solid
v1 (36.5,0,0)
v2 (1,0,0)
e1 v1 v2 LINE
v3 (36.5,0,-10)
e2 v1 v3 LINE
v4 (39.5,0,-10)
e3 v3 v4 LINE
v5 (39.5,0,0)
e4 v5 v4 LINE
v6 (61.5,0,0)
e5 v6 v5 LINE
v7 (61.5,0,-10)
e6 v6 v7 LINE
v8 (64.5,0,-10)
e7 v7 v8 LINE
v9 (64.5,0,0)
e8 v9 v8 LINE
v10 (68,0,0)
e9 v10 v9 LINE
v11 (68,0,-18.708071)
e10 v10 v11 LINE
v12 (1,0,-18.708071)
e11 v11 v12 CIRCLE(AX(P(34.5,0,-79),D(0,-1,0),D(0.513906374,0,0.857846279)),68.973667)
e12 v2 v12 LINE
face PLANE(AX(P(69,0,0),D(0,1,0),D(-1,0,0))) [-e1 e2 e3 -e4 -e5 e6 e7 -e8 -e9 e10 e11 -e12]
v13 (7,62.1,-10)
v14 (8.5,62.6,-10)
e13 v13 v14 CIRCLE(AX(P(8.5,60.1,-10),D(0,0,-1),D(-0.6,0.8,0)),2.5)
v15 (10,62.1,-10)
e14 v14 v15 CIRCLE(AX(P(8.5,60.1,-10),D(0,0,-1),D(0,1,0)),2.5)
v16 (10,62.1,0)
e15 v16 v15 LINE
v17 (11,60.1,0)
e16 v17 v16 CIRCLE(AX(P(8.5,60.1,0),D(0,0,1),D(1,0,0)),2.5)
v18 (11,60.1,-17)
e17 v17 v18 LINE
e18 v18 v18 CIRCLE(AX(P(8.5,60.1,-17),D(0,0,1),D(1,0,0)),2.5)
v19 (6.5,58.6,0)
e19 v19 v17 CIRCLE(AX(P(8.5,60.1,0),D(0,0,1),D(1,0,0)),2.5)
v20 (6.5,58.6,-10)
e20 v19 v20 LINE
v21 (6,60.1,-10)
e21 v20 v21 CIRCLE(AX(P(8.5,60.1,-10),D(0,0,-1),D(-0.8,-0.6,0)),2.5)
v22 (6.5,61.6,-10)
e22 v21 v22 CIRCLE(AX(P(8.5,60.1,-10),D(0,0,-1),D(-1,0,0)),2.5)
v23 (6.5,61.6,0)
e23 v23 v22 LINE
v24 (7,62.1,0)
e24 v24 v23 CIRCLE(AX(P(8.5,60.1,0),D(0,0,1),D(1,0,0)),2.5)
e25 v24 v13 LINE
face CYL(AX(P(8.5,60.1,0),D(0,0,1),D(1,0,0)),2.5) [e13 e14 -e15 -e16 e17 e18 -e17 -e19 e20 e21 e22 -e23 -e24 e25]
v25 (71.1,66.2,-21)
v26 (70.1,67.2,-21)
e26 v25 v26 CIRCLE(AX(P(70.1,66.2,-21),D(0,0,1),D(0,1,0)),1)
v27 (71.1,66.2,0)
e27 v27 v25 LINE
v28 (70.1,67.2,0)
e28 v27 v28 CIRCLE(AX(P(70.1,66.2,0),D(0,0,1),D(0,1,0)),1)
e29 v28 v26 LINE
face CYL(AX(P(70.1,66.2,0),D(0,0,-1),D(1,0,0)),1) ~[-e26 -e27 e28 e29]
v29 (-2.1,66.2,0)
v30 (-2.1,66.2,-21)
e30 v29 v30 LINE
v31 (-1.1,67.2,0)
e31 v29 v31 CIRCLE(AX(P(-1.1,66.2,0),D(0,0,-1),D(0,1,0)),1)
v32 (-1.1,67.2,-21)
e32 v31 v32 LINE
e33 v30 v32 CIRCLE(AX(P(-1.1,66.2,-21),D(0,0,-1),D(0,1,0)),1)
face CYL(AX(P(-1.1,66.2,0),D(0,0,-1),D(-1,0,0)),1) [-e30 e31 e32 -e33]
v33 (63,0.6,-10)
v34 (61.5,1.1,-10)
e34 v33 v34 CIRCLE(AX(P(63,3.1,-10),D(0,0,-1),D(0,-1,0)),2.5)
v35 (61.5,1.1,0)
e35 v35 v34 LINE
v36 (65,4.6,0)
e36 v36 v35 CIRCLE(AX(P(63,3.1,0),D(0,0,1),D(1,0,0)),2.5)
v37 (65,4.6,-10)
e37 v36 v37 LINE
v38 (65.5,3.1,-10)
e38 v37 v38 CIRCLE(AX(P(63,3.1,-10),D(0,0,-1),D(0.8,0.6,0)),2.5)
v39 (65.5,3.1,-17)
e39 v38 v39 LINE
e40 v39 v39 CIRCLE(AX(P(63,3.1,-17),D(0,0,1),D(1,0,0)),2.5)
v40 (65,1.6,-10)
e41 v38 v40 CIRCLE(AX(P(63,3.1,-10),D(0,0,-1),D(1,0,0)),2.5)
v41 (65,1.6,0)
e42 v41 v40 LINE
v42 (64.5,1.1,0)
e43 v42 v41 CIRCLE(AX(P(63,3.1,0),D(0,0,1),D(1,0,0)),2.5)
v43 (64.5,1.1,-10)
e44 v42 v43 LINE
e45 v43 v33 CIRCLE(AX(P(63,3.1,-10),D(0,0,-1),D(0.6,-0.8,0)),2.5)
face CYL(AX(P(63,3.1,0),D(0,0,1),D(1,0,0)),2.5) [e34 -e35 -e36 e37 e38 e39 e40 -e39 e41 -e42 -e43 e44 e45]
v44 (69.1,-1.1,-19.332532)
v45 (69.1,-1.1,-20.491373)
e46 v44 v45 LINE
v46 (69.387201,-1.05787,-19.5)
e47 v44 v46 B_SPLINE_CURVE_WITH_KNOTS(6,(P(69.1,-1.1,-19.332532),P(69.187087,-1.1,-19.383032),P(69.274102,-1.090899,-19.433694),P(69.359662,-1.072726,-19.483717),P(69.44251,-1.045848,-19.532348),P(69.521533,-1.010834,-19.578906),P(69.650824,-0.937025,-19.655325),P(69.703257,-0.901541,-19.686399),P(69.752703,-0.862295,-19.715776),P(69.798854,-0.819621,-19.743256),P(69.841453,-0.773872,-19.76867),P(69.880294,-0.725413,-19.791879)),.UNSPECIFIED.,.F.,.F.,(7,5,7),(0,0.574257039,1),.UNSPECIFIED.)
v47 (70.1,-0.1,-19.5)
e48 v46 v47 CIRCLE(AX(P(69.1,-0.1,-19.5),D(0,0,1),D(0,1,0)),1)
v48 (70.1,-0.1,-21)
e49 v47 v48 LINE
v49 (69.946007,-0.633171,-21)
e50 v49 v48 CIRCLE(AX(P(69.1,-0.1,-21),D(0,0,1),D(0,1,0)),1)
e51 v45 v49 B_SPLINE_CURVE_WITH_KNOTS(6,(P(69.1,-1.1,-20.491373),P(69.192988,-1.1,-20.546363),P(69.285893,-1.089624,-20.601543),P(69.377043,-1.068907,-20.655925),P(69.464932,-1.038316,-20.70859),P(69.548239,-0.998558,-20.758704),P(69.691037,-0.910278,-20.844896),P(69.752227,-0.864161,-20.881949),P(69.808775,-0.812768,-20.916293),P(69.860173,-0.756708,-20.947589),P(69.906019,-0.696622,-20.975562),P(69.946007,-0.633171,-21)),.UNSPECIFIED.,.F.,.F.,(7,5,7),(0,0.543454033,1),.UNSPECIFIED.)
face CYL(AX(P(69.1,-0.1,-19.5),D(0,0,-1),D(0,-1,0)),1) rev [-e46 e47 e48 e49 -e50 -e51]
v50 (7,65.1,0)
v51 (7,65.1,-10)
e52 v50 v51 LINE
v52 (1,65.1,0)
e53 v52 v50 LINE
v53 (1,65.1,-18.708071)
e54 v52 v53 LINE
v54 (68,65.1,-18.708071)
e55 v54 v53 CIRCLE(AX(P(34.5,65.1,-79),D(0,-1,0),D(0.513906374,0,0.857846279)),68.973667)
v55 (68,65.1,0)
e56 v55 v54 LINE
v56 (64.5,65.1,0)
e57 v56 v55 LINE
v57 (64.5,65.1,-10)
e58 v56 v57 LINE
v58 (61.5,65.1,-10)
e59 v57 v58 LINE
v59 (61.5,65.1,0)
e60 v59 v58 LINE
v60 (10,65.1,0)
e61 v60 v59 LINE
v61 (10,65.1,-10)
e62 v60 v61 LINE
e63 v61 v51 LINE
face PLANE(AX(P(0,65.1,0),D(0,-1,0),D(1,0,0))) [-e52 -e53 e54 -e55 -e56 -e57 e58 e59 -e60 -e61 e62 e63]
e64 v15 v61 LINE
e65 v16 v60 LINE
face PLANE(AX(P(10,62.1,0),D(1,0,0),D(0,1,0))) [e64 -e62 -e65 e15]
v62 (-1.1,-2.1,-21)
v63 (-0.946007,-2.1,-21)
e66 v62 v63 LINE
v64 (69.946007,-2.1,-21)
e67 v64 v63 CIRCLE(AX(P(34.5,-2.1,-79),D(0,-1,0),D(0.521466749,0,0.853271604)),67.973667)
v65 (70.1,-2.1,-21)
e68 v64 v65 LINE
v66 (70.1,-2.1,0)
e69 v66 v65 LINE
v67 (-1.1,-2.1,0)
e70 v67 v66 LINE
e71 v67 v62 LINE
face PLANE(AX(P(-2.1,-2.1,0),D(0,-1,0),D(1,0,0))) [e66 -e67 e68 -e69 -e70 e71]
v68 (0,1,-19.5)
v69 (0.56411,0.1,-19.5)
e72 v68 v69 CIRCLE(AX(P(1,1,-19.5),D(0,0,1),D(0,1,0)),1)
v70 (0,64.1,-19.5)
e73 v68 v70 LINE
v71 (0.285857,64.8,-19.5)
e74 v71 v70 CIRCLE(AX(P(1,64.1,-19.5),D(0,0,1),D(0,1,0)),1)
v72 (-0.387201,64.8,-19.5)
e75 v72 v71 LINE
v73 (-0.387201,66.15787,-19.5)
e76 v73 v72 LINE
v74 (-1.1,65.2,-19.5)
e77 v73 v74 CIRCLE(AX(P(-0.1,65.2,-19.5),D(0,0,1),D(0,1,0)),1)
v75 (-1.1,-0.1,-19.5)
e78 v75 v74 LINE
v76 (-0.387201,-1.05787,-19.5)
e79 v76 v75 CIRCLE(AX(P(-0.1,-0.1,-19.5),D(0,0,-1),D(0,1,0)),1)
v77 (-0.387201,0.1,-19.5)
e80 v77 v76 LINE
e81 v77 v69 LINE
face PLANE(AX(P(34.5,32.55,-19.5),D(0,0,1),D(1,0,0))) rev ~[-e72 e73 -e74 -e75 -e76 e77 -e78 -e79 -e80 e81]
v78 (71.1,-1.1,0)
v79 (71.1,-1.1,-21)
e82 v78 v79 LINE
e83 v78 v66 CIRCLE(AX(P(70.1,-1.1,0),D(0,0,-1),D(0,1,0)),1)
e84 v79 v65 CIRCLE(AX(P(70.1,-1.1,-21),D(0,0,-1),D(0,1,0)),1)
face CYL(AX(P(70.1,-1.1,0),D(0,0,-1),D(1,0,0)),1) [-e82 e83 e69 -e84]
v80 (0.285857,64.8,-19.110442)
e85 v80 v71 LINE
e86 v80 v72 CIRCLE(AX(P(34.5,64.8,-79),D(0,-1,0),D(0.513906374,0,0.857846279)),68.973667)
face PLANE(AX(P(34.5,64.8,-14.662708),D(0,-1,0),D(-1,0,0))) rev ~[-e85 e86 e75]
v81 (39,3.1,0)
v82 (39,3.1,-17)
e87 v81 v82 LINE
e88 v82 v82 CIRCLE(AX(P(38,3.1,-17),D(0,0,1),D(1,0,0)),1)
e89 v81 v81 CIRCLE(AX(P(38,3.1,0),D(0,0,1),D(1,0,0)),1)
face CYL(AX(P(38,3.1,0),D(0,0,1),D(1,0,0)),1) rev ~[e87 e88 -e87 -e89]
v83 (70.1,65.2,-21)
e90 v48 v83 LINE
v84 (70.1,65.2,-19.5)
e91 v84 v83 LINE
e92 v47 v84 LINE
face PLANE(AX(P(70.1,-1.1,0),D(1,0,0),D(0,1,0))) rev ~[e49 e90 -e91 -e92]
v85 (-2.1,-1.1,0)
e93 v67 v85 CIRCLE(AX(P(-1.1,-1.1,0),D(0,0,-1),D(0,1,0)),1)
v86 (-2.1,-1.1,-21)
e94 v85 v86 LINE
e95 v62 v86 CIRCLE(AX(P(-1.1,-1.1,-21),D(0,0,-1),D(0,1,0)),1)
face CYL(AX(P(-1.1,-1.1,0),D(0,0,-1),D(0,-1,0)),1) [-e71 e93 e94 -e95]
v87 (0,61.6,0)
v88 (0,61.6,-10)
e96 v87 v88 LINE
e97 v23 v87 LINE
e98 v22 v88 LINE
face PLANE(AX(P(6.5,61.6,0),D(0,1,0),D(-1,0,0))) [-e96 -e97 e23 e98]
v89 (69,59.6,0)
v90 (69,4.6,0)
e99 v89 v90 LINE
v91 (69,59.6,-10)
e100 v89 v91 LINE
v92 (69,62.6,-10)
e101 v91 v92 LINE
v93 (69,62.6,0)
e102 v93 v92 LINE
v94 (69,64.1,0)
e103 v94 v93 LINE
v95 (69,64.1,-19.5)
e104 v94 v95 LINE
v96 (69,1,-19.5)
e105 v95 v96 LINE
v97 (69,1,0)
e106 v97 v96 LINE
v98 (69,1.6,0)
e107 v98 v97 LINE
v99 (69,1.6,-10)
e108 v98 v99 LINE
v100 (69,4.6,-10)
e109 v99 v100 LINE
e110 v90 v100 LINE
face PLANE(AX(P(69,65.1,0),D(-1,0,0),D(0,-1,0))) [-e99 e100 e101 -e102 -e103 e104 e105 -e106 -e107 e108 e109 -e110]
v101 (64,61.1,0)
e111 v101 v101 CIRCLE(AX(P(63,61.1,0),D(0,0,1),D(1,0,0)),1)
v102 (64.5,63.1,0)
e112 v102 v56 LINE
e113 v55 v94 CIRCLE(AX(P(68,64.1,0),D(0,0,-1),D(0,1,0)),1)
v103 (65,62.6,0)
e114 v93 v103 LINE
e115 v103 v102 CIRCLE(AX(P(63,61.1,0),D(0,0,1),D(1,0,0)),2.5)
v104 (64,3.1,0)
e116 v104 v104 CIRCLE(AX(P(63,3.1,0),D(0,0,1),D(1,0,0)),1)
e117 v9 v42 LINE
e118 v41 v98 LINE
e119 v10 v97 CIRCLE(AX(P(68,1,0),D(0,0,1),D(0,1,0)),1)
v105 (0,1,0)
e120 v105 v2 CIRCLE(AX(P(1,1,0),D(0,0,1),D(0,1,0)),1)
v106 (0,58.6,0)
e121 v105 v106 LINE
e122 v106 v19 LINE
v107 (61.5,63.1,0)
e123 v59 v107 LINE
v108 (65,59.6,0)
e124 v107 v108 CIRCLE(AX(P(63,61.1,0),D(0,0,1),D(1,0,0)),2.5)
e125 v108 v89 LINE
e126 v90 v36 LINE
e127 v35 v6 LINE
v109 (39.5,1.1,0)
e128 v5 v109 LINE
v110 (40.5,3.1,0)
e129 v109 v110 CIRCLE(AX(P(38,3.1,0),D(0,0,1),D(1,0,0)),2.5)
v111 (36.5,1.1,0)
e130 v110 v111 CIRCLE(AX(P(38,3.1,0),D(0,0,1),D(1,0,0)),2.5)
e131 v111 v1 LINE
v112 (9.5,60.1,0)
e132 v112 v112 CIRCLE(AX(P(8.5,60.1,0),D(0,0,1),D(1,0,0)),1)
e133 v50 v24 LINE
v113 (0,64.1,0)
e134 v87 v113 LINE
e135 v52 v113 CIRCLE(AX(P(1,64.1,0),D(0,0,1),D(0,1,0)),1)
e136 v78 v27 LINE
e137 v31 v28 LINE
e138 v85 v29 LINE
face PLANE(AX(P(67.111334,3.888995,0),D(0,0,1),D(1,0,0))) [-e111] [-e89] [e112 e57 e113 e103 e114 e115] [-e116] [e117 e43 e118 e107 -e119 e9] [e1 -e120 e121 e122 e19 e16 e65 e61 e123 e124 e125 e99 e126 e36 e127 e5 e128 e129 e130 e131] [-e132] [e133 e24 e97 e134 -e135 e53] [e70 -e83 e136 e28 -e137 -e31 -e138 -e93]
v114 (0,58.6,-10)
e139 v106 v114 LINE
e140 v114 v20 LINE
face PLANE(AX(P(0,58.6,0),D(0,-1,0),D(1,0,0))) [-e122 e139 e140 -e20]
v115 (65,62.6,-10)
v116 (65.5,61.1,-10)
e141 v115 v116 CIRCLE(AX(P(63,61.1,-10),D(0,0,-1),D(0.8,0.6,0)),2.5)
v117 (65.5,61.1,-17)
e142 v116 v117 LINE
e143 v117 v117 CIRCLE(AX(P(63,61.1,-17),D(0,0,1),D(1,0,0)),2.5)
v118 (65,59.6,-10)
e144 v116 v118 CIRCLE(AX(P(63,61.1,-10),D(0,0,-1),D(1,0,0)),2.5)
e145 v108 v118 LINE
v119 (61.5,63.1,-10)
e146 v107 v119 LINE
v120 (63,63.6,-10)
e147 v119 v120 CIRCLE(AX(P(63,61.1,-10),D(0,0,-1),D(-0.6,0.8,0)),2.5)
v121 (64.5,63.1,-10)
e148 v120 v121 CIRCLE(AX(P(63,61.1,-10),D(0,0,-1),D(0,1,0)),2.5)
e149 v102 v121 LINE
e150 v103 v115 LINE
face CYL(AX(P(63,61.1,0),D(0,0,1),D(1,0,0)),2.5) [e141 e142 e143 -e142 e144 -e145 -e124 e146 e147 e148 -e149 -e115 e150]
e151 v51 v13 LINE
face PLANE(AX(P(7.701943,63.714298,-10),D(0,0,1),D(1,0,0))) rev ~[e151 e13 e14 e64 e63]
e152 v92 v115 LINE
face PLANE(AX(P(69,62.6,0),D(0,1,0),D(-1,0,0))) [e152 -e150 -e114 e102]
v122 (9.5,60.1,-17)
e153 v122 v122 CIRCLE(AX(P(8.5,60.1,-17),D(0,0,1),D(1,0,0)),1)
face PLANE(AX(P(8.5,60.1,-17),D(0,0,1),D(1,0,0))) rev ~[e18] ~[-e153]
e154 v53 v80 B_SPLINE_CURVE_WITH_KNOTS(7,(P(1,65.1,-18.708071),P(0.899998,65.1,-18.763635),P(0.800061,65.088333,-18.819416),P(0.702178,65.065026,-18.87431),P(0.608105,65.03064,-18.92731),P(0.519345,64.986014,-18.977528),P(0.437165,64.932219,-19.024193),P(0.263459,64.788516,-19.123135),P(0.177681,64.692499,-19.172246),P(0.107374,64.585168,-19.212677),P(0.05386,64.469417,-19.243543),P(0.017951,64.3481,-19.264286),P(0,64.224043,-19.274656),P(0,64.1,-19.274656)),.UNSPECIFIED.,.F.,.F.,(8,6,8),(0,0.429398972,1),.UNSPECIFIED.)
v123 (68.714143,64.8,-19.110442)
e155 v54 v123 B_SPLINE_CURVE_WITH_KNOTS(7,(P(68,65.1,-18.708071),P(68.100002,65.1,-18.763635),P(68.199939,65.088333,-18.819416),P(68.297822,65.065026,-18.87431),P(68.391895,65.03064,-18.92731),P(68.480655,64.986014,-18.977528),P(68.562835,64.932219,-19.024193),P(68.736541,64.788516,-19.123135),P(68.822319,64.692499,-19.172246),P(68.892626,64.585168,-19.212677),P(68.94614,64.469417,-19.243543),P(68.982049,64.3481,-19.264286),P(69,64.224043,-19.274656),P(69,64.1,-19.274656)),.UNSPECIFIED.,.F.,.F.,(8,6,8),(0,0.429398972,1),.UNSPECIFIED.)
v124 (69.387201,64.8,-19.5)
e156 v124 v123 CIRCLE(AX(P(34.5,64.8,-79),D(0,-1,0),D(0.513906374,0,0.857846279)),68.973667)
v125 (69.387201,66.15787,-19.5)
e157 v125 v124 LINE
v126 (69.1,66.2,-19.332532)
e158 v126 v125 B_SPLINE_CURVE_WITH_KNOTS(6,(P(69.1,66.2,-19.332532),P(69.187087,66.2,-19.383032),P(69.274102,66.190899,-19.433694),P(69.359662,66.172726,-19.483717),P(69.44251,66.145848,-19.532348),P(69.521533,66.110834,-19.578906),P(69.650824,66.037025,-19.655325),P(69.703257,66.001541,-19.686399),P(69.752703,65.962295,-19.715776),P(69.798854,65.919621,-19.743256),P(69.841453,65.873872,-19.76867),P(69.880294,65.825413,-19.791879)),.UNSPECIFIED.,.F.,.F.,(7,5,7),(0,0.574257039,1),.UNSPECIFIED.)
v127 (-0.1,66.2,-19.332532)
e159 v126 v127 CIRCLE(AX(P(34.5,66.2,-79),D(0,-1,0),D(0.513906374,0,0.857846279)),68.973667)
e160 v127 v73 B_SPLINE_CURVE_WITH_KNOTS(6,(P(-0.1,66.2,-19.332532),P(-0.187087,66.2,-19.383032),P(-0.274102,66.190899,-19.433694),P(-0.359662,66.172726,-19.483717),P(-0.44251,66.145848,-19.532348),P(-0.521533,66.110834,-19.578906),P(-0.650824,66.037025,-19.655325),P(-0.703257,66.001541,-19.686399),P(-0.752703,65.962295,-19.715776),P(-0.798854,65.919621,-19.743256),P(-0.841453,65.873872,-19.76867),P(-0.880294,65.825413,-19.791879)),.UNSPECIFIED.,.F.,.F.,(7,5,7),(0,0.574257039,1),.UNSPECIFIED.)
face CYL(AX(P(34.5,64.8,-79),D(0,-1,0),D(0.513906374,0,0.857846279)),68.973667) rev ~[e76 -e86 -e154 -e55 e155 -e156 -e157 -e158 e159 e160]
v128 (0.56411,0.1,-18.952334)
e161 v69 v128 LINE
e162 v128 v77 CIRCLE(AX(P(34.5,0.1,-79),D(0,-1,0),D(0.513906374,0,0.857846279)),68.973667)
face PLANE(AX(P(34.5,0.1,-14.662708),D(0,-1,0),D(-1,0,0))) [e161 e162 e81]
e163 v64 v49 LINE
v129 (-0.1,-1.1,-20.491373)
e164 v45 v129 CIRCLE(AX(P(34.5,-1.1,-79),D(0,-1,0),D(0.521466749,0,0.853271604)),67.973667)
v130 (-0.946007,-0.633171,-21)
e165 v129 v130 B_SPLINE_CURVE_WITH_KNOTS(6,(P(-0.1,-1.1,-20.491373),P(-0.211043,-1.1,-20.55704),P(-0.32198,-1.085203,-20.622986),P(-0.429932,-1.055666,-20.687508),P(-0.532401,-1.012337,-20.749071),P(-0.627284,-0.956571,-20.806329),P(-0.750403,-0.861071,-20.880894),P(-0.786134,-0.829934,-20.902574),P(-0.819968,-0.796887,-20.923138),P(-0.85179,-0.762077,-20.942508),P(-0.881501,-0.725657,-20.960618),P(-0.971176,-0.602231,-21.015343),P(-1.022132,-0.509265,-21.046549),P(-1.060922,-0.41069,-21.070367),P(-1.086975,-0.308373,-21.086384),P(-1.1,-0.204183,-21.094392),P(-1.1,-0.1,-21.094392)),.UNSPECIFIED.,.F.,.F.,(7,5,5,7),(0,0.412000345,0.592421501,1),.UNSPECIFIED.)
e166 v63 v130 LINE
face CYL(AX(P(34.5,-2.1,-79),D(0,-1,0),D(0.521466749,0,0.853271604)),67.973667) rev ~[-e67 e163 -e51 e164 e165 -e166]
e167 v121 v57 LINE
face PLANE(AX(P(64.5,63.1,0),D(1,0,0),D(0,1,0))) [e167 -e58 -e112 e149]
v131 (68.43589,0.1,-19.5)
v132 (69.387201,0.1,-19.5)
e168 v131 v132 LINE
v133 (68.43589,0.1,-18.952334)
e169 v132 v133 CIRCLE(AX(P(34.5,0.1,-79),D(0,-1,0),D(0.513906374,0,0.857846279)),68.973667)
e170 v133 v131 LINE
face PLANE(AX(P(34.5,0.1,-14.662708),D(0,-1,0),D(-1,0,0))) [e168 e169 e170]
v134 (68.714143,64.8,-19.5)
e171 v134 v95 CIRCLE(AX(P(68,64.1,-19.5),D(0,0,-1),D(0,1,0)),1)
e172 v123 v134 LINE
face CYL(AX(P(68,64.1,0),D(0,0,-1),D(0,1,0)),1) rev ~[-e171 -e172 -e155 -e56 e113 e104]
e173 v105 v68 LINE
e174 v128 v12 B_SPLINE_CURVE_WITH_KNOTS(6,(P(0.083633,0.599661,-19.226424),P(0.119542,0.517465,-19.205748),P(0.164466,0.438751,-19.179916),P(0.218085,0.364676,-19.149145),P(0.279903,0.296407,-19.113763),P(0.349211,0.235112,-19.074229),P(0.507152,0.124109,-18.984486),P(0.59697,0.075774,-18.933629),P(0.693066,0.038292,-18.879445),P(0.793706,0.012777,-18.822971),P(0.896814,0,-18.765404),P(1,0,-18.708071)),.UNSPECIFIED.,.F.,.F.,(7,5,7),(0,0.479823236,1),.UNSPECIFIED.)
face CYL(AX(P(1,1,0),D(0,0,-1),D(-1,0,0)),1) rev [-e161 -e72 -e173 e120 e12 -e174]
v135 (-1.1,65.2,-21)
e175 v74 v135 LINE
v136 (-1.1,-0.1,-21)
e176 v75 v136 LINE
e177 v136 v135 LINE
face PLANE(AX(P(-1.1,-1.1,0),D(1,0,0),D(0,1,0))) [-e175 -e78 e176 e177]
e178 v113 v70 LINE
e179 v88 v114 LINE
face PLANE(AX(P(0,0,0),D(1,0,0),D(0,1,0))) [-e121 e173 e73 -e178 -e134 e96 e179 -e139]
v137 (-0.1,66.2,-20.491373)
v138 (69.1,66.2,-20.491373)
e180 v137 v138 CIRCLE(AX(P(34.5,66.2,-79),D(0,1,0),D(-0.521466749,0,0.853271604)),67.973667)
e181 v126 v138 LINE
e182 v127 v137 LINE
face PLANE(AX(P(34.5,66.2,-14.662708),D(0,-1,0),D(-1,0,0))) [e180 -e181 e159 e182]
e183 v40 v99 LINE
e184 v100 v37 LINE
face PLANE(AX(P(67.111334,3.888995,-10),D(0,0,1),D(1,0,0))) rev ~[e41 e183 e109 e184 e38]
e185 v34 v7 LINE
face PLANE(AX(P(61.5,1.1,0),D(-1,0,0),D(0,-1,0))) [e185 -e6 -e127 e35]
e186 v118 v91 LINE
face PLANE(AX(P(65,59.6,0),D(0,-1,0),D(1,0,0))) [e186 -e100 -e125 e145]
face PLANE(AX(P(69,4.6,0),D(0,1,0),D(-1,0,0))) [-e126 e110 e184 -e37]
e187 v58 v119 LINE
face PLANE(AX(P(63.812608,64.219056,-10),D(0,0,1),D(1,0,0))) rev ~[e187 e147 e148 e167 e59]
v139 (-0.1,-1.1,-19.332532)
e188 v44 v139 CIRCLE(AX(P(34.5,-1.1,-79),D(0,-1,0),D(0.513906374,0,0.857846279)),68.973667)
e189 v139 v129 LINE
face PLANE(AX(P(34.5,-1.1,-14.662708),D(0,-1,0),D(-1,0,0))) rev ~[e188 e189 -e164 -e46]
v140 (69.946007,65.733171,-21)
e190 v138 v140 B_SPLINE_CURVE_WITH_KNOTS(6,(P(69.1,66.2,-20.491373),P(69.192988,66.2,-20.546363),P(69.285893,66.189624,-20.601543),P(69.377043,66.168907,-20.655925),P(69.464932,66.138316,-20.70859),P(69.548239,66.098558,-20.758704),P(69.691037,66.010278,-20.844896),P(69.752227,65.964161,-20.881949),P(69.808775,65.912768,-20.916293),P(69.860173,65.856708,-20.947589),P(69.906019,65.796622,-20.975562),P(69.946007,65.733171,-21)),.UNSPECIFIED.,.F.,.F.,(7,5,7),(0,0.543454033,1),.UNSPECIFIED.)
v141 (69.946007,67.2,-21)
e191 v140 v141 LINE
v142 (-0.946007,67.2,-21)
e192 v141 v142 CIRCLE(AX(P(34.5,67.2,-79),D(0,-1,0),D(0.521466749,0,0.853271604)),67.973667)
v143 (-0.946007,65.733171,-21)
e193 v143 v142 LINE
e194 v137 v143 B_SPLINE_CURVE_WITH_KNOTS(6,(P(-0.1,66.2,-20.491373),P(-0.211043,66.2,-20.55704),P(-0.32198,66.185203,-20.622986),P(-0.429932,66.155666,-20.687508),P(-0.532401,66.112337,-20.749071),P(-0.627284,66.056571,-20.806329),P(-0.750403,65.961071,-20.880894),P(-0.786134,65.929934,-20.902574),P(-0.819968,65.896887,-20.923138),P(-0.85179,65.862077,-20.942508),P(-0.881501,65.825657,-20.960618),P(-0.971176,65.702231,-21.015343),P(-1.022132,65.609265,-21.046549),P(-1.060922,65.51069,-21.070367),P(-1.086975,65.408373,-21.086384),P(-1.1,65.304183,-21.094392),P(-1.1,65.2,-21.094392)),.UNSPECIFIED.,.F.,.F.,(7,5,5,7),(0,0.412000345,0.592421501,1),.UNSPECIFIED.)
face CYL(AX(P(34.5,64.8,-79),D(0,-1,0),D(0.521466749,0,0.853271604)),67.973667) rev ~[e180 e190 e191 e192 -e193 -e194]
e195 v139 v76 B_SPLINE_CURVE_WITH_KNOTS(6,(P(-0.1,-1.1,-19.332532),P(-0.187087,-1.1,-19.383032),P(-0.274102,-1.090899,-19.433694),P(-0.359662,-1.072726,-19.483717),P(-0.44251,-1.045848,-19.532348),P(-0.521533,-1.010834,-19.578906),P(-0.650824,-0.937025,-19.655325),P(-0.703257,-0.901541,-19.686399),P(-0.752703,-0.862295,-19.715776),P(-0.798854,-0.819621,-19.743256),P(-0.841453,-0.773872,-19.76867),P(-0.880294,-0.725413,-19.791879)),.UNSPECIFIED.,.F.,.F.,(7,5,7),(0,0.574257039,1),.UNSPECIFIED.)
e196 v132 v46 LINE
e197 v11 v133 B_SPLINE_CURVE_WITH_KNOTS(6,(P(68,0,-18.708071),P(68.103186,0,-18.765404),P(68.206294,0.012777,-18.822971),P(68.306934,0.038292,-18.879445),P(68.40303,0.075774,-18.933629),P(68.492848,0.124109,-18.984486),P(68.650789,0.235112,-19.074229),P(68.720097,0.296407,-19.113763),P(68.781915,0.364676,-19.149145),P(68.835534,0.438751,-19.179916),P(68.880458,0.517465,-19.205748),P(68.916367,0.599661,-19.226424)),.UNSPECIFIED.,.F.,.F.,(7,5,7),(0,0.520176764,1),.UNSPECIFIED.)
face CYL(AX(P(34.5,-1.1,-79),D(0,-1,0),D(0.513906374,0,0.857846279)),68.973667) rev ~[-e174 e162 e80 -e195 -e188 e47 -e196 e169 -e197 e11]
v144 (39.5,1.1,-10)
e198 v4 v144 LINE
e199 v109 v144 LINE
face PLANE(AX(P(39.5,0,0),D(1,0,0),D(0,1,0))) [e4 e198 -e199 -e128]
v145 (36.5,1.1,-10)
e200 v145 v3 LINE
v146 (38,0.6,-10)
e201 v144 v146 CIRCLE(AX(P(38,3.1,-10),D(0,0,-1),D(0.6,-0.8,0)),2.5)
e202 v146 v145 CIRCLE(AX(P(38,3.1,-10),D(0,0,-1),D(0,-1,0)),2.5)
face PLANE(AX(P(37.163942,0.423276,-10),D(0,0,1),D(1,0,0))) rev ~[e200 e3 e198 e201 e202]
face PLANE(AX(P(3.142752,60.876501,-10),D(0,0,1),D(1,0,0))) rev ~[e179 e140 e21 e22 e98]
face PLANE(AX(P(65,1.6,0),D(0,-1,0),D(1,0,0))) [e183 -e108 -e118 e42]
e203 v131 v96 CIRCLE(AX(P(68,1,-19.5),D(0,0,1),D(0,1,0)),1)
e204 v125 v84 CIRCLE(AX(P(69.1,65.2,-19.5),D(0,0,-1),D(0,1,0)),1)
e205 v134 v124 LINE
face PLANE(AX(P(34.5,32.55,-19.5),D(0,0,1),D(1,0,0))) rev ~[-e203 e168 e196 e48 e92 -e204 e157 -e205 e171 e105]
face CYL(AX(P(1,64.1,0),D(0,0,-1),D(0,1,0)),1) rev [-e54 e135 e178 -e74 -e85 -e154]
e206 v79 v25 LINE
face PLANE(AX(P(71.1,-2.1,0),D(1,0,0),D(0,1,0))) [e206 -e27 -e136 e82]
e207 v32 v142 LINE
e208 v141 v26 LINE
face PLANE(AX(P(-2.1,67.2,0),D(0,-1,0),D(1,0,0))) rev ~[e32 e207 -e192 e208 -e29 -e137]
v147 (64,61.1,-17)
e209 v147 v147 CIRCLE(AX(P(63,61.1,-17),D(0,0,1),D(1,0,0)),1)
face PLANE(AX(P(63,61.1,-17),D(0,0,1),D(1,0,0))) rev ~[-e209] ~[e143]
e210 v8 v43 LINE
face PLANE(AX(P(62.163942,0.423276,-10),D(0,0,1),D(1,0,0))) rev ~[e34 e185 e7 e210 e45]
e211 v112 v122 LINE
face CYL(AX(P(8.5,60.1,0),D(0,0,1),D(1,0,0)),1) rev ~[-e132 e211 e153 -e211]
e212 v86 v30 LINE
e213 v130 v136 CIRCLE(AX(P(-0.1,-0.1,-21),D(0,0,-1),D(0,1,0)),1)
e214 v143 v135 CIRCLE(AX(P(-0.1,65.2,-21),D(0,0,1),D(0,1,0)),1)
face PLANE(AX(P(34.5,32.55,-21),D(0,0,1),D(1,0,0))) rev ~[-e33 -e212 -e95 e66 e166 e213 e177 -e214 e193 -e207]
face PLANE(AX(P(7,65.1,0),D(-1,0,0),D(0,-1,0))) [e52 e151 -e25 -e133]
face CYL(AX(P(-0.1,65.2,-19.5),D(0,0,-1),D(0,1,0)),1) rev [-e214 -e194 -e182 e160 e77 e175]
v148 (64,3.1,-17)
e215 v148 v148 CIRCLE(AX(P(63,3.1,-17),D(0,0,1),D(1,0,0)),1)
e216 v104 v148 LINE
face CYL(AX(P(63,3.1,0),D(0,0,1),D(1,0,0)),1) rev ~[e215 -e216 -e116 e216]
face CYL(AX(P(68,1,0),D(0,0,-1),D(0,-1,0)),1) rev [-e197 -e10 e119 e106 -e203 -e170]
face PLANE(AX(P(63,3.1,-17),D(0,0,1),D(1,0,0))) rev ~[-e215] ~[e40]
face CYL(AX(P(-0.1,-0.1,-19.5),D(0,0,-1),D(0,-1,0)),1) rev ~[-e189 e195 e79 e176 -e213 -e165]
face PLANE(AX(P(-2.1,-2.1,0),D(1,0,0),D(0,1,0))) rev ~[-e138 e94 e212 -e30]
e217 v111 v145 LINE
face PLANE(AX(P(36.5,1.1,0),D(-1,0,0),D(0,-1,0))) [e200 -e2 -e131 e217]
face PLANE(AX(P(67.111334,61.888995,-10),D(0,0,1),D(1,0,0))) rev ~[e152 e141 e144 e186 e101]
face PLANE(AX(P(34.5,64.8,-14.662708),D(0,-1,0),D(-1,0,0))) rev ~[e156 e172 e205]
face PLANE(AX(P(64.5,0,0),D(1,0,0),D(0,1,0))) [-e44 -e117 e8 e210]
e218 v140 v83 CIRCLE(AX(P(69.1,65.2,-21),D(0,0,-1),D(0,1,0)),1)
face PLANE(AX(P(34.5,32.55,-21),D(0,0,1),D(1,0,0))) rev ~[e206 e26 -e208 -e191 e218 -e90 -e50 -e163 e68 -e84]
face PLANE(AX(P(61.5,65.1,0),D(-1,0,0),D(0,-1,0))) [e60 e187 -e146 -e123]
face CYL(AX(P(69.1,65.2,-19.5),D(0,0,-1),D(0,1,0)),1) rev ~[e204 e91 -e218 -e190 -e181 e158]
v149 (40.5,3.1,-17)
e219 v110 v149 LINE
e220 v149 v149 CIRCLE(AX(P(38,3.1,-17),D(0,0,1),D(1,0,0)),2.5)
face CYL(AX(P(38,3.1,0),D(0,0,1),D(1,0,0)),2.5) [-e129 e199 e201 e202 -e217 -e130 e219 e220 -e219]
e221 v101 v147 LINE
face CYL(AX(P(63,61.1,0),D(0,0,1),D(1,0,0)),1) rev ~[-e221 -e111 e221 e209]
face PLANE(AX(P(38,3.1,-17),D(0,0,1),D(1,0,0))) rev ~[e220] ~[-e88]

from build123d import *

# Parameters (mm, degrees)
SKIZZE1_R                         = 2.5
SKIZZE1_R_2                       = 1
AUFSATZ_LINEAR_AUSTRAGEN1_DEPTH   = 17
AUFSATZ_LINEAR_AUSTRAGEN1_2_DEPTH = 17
AUFSATZ_LINEAR_AUSTRAGEN1_3_DEPTH = 17
AUFSATZ_LINEAR_AUSTRAGEN1_4_DEPTH = 17
SKIZZE1_3_W                       = 73.2
SKIZZE1_3_H                       = 69.3
SKIZZE1_3_W_2                     = 71.2
SKIZZE1_3_H_2                     = 67.3
AUFSATZ_LINEAR_AUSTRAGEN2_DEPTH   = 21
SKIZZE1_4_W                       = 71.2
SKIZZE1_4_H                       = 67.3
AUFSATZ_LINEAR_AUSTRAGEN3_DEPTH   = 19.5
SCHNITT_LINEAR_AUSTRAGEN1_DEPTH   = 2.1
SCHNITT_LINEAR_START              = -1
SCHNITT_LINEAR_AUSTRAGEN4_DEPTH   = 1.2
SCHNITT_LINEAR_START_2            = -66.9
SCHNITT_LINEAR_AUSTRAGEN6_DEPTH   = 1.4
AUFSATZ_LINEAR_AUSTRAGEN4_DEPTH   = 10
SCHNITT_LINEAR_AUSTRAGEN7_DEPTH   = 10
VERRUNDUNG1_R                     = 1
VERRUNDUNG2_R                     = 1


with BuildPart() as part:
    # Skizze1 → Aufsatz-Linear austragen1 (new body)
    with BuildSketch(Plane.XY):
        with Locations((38, 3.1)):
            Circle(SKIZZE1_R)
        with Locations((38, 3.1)):
            Circle(SKIZZE1_R_2, mode=Mode.SUBTRACT)
    extrude(amount=-AUFSATZ_LINEAR_AUSTRAGEN1_DEPTH)



with BuildPart() as body_2:
    # Skizze1 → Aufsatz-Linear austragen1 2 (new body)
    with BuildSketch(Plane.XY):
        with Locations((8.5, 60.1)):
            Circle(SKIZZE1_R)
        with Locations((8.5, 60.1)):
            Circle(SKIZZE1_R_2, mode=Mode.SUBTRACT)
    extrude(amount=-AUFSATZ_LINEAR_AUSTRAGEN1_2_DEPTH)


with BuildPart() as body_3:
    # Skizze1 → Aufsatz-Linear austragen1 3 (new body)
    with BuildSketch(Plane.XY):
        with Locations((63, 3.1)):
            Circle(SKIZZE1_R)
        with Locations((63, 3.1)):
            Circle(SKIZZE1_R_2, mode=Mode.SUBTRACT)
    extrude(amount=-AUFSATZ_LINEAR_AUSTRAGEN1_3_DEPTH)


with BuildPart() as body_4:
    # Skizze1 → Aufsatz-Linear austragen1 4 (new body)
    with BuildSketch(Plane.XY):
        with Locations((63, 61.1)):
            Circle(SKIZZE1_R)
        with Locations((63, 61.1)):
            Circle(SKIZZE1_R_2, mode=Mode.SUBTRACT)
    extrude(amount=-AUFSATZ_LINEAR_AUSTRAGEN1_4_DEPTH)


with BuildPart() as body_5:
    # Skizze1<3> → Aufsatz-Linear austragen2 (new body)
    with BuildSketch(Plane.XY):
        with Locations((34.5, 32.55)):
            Rectangle(SKIZZE1_3_W, SKIZZE1_3_H)
        with Locations((34.5, 32.55)):
            Rectangle(SKIZZE1_3_W_2, SKIZZE1_3_H_2, mode=Mode.SUBTRACT)
    extrude(amount=-AUFSATZ_LINEAR_AUSTRAGEN2_DEPTH)

    # Skizze1<4> → Aufsatz-Linear austragen3 (add)
    with BuildSketch(Plane.XY):
        with Locations((34.5, 32.55)):
            Rectangle(SKIZZE1_4_W, SKIZZE1_4_H)
        Polygon((36.5, 0), (0, 0), (0, 58.6), (0, 60.1), (0, 61.6), (0, 65.1), (7, 65.1), (8.5, 65.1), (10, 65.1), (61.5, 65.1), (63, 65.1), (64.5, 65.1), (69, 65.1), (69, 62.6), (69, 61.1), (69, 59.6), (69, 4.6), (69, 3.1), (69, 1.6), (69, 0), (64.5, 0), (63, 0), (61.5, 0), (39.5, 0), (38, 0), align=None, mode=Mode.SUBTRACT)
    extrude(amount=-AUFSATZ_LINEAR_AUSTRAGEN3_DEPTH)

    # Skizze2 → Schnitt-Linear austragen1 (cut)
    with BuildSketch(Plane(origin=(0, -2.1, 0), x_dir=(-1, 0, 0), z_dir=(0, -1, 0))):
        with BuildLine():
            ThreePointArc((-69.94600721, 21), (-34.5, 11.026332841), (0.94600721, 21))
            Line((0.94600721, 21), (-69.94600721, 21))
        make_face()
    extrude(amount=-SCHNITT_LINEAR_AUSTRAGEN1_DEPTH, mode=Mode.SUBTRACT)

    # Skizze2<6> → Schnitt-Linear austragen4 (cut)
    with BuildSketch(Plane(origin=(0, -2.1, 0), x_dir=(-1, 0, 0), z_dir=(0, -1, 0)).offset(SCHNITT_LINEAR_START)):
        with BuildLine():
            Line((0.94600721, 19.831196274), (0.94600721, 21))
            ThreePointArc((0.94600721, 21), (-34.5, 11.026332841), (-69.94600721, 21))
            Line((-69.94600721, 21), (-69.94600721, 19.831196274))
            ThreePointArc((-69.94600721, 19.831196274), (-34.5, 10.026332841), (0.94600721, 19.831196274))
        make_face()
    extrude(amount=-SCHNITT_LINEAR_AUSTRAGEN4_DEPTH, mode=Mode.SUBTRACT)

    # Skizze2<14> → Schnitt-Linear austragen6 (cut)
    with BuildSketch(Plane(origin=(0, -2.1, 0), x_dir=(-1, 0, 0), z_dir=(0, -1, 0)).offset(SCHNITT_LINEAR_START_2)):
        with BuildLine():
            Line((0.94600721, 19.831196274), (0.94600721, 21))
            ThreePointArc((0.94600721, 21), (-34.5, 11.026332841), (-69.94600721, 21))
            Line((-69.94600721, 21), (-69.94600721, 19.831196274))
            ThreePointArc((-69.94600721, 19.831196274), (-34.5, 10.026332841), (0.94600721, 19.831196274))
        make_face()
    extrude(amount=-SCHNITT_LINEAR_AUSTRAGEN6_DEPTH, mode=Mode.SUBTRACT)


with BuildPart() as part_1:
    add(part.part)

    add(body_2.part)  # Aufsatz-Linear austragen4 merges body 2

    add(body_3.part)  # Aufsatz-Linear austragen4 merges body 3

    add(body_4.part)  # Aufsatz-Linear austragen4 merges body 4

    add(body_5.part)  # Aufsatz-Linear austragen4 merges body 5
    # Skizze1<5> → Aufsatz-Linear austragen4 (add)
    with BuildSketch(Plane.XY):
        with BuildLine():
            Line((36.5, 1.1), (36.5, 0))
            Line((36.5, 0), (39.5, 0))
            Line((39.5, 0), (39.5, 1.1))
            ThreePointArc((39.5, 1.1), (38, 0.6), (36.5, 1.1))
        make_face()
        with BuildLine():
            Line((0, 58.6), (6.5, 58.6))
            ThreePointArc((6.5, 58.6), (6, 60.1), (6.5, 61.6))
            Line((6.5, 61.6), (0, 61.6))
            Line((0, 61.6), (0, 58.6))
        make_face()
        with BuildLine():
            Line((61.5, 1.1), (61.5, 0))
            Line((61.5, 0), (64.5, 0))
            Line((64.5, 0), (64.5, 1.1))
            ThreePointArc((64.5, 1.1), (63, 0.6), (61.5, 1.1))
        make_face()
        with BuildLine():
            Line((10, 62.1), (10, 65.1))
            Line((10, 65.1), (7, 65.1))
            Line((7, 65.1), (7, 62.1))
            ThreePointArc((7, 62.1), (8.5, 62.6), (10, 62.1))
        make_face()
        with BuildLine():
            Line((69, 4.6), (65, 4.6))
            ThreePointArc((65, 4.6), (65.5, 3.1), (65, 1.6))
            Line((65, 1.6), (69, 1.6))
            Line((69, 1.6), (69, 4.6))
        make_face()
        with BuildLine():
            Line((61.5, 65.1), (61.5, 63.1))
            ThreePointArc((61.5, 63.1), (63, 63.6), (64.5, 63.1))
            Line((64.5, 63.1), (64.5, 65.1))
            Line((64.5, 65.1), (61.5, 65.1))
        make_face()
        with BuildLine():
            Line((65, 59.6), (69, 59.6))
            Line((69, 59.6), (69, 62.6))
            Line((69, 62.6), (65, 62.6))
            ThreePointArc((65, 62.6), (65.5, 61.1), (65, 59.6))
        make_face()
    extrude(amount=-AUFSATZ_LINEAR_AUSTRAGEN4_DEPTH)

    # Skizze2<15> → Schnitt-Linear austragen7 (cut)
    with BuildSketch(Plane(origin=(0, -2.1, 0), x_dir=(-1, 0, 0), z_dir=(0, -1, 0)).offset(SCHNITT_LINEAR_START_2)):
        with BuildLine():
            ThreePointArc((-69.94600721, 21), (-34.5, 11.026332841), (0.94600721, 21))
            Line((0.94600721, 21), (-69.94600721, 21))
        make_face()
    extrude(amount=-SCHNITT_LINEAR_AUSTRAGEN7_DEPTH, mode=Mode.SUBTRACT)

    # Verrundung1
    verrundung1_edges = [part_1.edges().sort_by_distance(p)[0] for p in [
        (0, 65.1, -9.63732781),
        (69, 65.1, -9.63732781),
        (69, 0, -9.63732781),
        (0, 0, -9.63732781),
        (-2.1, -2.1, -10.5),
        (71.1, -2.1, -10.5),
        (71.1, 67.2, -10.5),
        (-2.1, 67.2, -10.5),
    ]]
    fillet(verrundung1_edges, radius=VERRUNDUNG1_R)

    # Verrundung2
    verrundung2_edges = [part_1.edges().sort_by_distance(p)[0] for p in [
        (70.1, 66.2, -20.25),
        (70.1, -1.1, -20.25),
        (-1.1, -1.1, -20.25),
        (-1.1, 66.2, -20.25),
    ]]
    fillet(verrundung2_edges, radius=VERRUNDUNG2_R)


solid = part_1.part
